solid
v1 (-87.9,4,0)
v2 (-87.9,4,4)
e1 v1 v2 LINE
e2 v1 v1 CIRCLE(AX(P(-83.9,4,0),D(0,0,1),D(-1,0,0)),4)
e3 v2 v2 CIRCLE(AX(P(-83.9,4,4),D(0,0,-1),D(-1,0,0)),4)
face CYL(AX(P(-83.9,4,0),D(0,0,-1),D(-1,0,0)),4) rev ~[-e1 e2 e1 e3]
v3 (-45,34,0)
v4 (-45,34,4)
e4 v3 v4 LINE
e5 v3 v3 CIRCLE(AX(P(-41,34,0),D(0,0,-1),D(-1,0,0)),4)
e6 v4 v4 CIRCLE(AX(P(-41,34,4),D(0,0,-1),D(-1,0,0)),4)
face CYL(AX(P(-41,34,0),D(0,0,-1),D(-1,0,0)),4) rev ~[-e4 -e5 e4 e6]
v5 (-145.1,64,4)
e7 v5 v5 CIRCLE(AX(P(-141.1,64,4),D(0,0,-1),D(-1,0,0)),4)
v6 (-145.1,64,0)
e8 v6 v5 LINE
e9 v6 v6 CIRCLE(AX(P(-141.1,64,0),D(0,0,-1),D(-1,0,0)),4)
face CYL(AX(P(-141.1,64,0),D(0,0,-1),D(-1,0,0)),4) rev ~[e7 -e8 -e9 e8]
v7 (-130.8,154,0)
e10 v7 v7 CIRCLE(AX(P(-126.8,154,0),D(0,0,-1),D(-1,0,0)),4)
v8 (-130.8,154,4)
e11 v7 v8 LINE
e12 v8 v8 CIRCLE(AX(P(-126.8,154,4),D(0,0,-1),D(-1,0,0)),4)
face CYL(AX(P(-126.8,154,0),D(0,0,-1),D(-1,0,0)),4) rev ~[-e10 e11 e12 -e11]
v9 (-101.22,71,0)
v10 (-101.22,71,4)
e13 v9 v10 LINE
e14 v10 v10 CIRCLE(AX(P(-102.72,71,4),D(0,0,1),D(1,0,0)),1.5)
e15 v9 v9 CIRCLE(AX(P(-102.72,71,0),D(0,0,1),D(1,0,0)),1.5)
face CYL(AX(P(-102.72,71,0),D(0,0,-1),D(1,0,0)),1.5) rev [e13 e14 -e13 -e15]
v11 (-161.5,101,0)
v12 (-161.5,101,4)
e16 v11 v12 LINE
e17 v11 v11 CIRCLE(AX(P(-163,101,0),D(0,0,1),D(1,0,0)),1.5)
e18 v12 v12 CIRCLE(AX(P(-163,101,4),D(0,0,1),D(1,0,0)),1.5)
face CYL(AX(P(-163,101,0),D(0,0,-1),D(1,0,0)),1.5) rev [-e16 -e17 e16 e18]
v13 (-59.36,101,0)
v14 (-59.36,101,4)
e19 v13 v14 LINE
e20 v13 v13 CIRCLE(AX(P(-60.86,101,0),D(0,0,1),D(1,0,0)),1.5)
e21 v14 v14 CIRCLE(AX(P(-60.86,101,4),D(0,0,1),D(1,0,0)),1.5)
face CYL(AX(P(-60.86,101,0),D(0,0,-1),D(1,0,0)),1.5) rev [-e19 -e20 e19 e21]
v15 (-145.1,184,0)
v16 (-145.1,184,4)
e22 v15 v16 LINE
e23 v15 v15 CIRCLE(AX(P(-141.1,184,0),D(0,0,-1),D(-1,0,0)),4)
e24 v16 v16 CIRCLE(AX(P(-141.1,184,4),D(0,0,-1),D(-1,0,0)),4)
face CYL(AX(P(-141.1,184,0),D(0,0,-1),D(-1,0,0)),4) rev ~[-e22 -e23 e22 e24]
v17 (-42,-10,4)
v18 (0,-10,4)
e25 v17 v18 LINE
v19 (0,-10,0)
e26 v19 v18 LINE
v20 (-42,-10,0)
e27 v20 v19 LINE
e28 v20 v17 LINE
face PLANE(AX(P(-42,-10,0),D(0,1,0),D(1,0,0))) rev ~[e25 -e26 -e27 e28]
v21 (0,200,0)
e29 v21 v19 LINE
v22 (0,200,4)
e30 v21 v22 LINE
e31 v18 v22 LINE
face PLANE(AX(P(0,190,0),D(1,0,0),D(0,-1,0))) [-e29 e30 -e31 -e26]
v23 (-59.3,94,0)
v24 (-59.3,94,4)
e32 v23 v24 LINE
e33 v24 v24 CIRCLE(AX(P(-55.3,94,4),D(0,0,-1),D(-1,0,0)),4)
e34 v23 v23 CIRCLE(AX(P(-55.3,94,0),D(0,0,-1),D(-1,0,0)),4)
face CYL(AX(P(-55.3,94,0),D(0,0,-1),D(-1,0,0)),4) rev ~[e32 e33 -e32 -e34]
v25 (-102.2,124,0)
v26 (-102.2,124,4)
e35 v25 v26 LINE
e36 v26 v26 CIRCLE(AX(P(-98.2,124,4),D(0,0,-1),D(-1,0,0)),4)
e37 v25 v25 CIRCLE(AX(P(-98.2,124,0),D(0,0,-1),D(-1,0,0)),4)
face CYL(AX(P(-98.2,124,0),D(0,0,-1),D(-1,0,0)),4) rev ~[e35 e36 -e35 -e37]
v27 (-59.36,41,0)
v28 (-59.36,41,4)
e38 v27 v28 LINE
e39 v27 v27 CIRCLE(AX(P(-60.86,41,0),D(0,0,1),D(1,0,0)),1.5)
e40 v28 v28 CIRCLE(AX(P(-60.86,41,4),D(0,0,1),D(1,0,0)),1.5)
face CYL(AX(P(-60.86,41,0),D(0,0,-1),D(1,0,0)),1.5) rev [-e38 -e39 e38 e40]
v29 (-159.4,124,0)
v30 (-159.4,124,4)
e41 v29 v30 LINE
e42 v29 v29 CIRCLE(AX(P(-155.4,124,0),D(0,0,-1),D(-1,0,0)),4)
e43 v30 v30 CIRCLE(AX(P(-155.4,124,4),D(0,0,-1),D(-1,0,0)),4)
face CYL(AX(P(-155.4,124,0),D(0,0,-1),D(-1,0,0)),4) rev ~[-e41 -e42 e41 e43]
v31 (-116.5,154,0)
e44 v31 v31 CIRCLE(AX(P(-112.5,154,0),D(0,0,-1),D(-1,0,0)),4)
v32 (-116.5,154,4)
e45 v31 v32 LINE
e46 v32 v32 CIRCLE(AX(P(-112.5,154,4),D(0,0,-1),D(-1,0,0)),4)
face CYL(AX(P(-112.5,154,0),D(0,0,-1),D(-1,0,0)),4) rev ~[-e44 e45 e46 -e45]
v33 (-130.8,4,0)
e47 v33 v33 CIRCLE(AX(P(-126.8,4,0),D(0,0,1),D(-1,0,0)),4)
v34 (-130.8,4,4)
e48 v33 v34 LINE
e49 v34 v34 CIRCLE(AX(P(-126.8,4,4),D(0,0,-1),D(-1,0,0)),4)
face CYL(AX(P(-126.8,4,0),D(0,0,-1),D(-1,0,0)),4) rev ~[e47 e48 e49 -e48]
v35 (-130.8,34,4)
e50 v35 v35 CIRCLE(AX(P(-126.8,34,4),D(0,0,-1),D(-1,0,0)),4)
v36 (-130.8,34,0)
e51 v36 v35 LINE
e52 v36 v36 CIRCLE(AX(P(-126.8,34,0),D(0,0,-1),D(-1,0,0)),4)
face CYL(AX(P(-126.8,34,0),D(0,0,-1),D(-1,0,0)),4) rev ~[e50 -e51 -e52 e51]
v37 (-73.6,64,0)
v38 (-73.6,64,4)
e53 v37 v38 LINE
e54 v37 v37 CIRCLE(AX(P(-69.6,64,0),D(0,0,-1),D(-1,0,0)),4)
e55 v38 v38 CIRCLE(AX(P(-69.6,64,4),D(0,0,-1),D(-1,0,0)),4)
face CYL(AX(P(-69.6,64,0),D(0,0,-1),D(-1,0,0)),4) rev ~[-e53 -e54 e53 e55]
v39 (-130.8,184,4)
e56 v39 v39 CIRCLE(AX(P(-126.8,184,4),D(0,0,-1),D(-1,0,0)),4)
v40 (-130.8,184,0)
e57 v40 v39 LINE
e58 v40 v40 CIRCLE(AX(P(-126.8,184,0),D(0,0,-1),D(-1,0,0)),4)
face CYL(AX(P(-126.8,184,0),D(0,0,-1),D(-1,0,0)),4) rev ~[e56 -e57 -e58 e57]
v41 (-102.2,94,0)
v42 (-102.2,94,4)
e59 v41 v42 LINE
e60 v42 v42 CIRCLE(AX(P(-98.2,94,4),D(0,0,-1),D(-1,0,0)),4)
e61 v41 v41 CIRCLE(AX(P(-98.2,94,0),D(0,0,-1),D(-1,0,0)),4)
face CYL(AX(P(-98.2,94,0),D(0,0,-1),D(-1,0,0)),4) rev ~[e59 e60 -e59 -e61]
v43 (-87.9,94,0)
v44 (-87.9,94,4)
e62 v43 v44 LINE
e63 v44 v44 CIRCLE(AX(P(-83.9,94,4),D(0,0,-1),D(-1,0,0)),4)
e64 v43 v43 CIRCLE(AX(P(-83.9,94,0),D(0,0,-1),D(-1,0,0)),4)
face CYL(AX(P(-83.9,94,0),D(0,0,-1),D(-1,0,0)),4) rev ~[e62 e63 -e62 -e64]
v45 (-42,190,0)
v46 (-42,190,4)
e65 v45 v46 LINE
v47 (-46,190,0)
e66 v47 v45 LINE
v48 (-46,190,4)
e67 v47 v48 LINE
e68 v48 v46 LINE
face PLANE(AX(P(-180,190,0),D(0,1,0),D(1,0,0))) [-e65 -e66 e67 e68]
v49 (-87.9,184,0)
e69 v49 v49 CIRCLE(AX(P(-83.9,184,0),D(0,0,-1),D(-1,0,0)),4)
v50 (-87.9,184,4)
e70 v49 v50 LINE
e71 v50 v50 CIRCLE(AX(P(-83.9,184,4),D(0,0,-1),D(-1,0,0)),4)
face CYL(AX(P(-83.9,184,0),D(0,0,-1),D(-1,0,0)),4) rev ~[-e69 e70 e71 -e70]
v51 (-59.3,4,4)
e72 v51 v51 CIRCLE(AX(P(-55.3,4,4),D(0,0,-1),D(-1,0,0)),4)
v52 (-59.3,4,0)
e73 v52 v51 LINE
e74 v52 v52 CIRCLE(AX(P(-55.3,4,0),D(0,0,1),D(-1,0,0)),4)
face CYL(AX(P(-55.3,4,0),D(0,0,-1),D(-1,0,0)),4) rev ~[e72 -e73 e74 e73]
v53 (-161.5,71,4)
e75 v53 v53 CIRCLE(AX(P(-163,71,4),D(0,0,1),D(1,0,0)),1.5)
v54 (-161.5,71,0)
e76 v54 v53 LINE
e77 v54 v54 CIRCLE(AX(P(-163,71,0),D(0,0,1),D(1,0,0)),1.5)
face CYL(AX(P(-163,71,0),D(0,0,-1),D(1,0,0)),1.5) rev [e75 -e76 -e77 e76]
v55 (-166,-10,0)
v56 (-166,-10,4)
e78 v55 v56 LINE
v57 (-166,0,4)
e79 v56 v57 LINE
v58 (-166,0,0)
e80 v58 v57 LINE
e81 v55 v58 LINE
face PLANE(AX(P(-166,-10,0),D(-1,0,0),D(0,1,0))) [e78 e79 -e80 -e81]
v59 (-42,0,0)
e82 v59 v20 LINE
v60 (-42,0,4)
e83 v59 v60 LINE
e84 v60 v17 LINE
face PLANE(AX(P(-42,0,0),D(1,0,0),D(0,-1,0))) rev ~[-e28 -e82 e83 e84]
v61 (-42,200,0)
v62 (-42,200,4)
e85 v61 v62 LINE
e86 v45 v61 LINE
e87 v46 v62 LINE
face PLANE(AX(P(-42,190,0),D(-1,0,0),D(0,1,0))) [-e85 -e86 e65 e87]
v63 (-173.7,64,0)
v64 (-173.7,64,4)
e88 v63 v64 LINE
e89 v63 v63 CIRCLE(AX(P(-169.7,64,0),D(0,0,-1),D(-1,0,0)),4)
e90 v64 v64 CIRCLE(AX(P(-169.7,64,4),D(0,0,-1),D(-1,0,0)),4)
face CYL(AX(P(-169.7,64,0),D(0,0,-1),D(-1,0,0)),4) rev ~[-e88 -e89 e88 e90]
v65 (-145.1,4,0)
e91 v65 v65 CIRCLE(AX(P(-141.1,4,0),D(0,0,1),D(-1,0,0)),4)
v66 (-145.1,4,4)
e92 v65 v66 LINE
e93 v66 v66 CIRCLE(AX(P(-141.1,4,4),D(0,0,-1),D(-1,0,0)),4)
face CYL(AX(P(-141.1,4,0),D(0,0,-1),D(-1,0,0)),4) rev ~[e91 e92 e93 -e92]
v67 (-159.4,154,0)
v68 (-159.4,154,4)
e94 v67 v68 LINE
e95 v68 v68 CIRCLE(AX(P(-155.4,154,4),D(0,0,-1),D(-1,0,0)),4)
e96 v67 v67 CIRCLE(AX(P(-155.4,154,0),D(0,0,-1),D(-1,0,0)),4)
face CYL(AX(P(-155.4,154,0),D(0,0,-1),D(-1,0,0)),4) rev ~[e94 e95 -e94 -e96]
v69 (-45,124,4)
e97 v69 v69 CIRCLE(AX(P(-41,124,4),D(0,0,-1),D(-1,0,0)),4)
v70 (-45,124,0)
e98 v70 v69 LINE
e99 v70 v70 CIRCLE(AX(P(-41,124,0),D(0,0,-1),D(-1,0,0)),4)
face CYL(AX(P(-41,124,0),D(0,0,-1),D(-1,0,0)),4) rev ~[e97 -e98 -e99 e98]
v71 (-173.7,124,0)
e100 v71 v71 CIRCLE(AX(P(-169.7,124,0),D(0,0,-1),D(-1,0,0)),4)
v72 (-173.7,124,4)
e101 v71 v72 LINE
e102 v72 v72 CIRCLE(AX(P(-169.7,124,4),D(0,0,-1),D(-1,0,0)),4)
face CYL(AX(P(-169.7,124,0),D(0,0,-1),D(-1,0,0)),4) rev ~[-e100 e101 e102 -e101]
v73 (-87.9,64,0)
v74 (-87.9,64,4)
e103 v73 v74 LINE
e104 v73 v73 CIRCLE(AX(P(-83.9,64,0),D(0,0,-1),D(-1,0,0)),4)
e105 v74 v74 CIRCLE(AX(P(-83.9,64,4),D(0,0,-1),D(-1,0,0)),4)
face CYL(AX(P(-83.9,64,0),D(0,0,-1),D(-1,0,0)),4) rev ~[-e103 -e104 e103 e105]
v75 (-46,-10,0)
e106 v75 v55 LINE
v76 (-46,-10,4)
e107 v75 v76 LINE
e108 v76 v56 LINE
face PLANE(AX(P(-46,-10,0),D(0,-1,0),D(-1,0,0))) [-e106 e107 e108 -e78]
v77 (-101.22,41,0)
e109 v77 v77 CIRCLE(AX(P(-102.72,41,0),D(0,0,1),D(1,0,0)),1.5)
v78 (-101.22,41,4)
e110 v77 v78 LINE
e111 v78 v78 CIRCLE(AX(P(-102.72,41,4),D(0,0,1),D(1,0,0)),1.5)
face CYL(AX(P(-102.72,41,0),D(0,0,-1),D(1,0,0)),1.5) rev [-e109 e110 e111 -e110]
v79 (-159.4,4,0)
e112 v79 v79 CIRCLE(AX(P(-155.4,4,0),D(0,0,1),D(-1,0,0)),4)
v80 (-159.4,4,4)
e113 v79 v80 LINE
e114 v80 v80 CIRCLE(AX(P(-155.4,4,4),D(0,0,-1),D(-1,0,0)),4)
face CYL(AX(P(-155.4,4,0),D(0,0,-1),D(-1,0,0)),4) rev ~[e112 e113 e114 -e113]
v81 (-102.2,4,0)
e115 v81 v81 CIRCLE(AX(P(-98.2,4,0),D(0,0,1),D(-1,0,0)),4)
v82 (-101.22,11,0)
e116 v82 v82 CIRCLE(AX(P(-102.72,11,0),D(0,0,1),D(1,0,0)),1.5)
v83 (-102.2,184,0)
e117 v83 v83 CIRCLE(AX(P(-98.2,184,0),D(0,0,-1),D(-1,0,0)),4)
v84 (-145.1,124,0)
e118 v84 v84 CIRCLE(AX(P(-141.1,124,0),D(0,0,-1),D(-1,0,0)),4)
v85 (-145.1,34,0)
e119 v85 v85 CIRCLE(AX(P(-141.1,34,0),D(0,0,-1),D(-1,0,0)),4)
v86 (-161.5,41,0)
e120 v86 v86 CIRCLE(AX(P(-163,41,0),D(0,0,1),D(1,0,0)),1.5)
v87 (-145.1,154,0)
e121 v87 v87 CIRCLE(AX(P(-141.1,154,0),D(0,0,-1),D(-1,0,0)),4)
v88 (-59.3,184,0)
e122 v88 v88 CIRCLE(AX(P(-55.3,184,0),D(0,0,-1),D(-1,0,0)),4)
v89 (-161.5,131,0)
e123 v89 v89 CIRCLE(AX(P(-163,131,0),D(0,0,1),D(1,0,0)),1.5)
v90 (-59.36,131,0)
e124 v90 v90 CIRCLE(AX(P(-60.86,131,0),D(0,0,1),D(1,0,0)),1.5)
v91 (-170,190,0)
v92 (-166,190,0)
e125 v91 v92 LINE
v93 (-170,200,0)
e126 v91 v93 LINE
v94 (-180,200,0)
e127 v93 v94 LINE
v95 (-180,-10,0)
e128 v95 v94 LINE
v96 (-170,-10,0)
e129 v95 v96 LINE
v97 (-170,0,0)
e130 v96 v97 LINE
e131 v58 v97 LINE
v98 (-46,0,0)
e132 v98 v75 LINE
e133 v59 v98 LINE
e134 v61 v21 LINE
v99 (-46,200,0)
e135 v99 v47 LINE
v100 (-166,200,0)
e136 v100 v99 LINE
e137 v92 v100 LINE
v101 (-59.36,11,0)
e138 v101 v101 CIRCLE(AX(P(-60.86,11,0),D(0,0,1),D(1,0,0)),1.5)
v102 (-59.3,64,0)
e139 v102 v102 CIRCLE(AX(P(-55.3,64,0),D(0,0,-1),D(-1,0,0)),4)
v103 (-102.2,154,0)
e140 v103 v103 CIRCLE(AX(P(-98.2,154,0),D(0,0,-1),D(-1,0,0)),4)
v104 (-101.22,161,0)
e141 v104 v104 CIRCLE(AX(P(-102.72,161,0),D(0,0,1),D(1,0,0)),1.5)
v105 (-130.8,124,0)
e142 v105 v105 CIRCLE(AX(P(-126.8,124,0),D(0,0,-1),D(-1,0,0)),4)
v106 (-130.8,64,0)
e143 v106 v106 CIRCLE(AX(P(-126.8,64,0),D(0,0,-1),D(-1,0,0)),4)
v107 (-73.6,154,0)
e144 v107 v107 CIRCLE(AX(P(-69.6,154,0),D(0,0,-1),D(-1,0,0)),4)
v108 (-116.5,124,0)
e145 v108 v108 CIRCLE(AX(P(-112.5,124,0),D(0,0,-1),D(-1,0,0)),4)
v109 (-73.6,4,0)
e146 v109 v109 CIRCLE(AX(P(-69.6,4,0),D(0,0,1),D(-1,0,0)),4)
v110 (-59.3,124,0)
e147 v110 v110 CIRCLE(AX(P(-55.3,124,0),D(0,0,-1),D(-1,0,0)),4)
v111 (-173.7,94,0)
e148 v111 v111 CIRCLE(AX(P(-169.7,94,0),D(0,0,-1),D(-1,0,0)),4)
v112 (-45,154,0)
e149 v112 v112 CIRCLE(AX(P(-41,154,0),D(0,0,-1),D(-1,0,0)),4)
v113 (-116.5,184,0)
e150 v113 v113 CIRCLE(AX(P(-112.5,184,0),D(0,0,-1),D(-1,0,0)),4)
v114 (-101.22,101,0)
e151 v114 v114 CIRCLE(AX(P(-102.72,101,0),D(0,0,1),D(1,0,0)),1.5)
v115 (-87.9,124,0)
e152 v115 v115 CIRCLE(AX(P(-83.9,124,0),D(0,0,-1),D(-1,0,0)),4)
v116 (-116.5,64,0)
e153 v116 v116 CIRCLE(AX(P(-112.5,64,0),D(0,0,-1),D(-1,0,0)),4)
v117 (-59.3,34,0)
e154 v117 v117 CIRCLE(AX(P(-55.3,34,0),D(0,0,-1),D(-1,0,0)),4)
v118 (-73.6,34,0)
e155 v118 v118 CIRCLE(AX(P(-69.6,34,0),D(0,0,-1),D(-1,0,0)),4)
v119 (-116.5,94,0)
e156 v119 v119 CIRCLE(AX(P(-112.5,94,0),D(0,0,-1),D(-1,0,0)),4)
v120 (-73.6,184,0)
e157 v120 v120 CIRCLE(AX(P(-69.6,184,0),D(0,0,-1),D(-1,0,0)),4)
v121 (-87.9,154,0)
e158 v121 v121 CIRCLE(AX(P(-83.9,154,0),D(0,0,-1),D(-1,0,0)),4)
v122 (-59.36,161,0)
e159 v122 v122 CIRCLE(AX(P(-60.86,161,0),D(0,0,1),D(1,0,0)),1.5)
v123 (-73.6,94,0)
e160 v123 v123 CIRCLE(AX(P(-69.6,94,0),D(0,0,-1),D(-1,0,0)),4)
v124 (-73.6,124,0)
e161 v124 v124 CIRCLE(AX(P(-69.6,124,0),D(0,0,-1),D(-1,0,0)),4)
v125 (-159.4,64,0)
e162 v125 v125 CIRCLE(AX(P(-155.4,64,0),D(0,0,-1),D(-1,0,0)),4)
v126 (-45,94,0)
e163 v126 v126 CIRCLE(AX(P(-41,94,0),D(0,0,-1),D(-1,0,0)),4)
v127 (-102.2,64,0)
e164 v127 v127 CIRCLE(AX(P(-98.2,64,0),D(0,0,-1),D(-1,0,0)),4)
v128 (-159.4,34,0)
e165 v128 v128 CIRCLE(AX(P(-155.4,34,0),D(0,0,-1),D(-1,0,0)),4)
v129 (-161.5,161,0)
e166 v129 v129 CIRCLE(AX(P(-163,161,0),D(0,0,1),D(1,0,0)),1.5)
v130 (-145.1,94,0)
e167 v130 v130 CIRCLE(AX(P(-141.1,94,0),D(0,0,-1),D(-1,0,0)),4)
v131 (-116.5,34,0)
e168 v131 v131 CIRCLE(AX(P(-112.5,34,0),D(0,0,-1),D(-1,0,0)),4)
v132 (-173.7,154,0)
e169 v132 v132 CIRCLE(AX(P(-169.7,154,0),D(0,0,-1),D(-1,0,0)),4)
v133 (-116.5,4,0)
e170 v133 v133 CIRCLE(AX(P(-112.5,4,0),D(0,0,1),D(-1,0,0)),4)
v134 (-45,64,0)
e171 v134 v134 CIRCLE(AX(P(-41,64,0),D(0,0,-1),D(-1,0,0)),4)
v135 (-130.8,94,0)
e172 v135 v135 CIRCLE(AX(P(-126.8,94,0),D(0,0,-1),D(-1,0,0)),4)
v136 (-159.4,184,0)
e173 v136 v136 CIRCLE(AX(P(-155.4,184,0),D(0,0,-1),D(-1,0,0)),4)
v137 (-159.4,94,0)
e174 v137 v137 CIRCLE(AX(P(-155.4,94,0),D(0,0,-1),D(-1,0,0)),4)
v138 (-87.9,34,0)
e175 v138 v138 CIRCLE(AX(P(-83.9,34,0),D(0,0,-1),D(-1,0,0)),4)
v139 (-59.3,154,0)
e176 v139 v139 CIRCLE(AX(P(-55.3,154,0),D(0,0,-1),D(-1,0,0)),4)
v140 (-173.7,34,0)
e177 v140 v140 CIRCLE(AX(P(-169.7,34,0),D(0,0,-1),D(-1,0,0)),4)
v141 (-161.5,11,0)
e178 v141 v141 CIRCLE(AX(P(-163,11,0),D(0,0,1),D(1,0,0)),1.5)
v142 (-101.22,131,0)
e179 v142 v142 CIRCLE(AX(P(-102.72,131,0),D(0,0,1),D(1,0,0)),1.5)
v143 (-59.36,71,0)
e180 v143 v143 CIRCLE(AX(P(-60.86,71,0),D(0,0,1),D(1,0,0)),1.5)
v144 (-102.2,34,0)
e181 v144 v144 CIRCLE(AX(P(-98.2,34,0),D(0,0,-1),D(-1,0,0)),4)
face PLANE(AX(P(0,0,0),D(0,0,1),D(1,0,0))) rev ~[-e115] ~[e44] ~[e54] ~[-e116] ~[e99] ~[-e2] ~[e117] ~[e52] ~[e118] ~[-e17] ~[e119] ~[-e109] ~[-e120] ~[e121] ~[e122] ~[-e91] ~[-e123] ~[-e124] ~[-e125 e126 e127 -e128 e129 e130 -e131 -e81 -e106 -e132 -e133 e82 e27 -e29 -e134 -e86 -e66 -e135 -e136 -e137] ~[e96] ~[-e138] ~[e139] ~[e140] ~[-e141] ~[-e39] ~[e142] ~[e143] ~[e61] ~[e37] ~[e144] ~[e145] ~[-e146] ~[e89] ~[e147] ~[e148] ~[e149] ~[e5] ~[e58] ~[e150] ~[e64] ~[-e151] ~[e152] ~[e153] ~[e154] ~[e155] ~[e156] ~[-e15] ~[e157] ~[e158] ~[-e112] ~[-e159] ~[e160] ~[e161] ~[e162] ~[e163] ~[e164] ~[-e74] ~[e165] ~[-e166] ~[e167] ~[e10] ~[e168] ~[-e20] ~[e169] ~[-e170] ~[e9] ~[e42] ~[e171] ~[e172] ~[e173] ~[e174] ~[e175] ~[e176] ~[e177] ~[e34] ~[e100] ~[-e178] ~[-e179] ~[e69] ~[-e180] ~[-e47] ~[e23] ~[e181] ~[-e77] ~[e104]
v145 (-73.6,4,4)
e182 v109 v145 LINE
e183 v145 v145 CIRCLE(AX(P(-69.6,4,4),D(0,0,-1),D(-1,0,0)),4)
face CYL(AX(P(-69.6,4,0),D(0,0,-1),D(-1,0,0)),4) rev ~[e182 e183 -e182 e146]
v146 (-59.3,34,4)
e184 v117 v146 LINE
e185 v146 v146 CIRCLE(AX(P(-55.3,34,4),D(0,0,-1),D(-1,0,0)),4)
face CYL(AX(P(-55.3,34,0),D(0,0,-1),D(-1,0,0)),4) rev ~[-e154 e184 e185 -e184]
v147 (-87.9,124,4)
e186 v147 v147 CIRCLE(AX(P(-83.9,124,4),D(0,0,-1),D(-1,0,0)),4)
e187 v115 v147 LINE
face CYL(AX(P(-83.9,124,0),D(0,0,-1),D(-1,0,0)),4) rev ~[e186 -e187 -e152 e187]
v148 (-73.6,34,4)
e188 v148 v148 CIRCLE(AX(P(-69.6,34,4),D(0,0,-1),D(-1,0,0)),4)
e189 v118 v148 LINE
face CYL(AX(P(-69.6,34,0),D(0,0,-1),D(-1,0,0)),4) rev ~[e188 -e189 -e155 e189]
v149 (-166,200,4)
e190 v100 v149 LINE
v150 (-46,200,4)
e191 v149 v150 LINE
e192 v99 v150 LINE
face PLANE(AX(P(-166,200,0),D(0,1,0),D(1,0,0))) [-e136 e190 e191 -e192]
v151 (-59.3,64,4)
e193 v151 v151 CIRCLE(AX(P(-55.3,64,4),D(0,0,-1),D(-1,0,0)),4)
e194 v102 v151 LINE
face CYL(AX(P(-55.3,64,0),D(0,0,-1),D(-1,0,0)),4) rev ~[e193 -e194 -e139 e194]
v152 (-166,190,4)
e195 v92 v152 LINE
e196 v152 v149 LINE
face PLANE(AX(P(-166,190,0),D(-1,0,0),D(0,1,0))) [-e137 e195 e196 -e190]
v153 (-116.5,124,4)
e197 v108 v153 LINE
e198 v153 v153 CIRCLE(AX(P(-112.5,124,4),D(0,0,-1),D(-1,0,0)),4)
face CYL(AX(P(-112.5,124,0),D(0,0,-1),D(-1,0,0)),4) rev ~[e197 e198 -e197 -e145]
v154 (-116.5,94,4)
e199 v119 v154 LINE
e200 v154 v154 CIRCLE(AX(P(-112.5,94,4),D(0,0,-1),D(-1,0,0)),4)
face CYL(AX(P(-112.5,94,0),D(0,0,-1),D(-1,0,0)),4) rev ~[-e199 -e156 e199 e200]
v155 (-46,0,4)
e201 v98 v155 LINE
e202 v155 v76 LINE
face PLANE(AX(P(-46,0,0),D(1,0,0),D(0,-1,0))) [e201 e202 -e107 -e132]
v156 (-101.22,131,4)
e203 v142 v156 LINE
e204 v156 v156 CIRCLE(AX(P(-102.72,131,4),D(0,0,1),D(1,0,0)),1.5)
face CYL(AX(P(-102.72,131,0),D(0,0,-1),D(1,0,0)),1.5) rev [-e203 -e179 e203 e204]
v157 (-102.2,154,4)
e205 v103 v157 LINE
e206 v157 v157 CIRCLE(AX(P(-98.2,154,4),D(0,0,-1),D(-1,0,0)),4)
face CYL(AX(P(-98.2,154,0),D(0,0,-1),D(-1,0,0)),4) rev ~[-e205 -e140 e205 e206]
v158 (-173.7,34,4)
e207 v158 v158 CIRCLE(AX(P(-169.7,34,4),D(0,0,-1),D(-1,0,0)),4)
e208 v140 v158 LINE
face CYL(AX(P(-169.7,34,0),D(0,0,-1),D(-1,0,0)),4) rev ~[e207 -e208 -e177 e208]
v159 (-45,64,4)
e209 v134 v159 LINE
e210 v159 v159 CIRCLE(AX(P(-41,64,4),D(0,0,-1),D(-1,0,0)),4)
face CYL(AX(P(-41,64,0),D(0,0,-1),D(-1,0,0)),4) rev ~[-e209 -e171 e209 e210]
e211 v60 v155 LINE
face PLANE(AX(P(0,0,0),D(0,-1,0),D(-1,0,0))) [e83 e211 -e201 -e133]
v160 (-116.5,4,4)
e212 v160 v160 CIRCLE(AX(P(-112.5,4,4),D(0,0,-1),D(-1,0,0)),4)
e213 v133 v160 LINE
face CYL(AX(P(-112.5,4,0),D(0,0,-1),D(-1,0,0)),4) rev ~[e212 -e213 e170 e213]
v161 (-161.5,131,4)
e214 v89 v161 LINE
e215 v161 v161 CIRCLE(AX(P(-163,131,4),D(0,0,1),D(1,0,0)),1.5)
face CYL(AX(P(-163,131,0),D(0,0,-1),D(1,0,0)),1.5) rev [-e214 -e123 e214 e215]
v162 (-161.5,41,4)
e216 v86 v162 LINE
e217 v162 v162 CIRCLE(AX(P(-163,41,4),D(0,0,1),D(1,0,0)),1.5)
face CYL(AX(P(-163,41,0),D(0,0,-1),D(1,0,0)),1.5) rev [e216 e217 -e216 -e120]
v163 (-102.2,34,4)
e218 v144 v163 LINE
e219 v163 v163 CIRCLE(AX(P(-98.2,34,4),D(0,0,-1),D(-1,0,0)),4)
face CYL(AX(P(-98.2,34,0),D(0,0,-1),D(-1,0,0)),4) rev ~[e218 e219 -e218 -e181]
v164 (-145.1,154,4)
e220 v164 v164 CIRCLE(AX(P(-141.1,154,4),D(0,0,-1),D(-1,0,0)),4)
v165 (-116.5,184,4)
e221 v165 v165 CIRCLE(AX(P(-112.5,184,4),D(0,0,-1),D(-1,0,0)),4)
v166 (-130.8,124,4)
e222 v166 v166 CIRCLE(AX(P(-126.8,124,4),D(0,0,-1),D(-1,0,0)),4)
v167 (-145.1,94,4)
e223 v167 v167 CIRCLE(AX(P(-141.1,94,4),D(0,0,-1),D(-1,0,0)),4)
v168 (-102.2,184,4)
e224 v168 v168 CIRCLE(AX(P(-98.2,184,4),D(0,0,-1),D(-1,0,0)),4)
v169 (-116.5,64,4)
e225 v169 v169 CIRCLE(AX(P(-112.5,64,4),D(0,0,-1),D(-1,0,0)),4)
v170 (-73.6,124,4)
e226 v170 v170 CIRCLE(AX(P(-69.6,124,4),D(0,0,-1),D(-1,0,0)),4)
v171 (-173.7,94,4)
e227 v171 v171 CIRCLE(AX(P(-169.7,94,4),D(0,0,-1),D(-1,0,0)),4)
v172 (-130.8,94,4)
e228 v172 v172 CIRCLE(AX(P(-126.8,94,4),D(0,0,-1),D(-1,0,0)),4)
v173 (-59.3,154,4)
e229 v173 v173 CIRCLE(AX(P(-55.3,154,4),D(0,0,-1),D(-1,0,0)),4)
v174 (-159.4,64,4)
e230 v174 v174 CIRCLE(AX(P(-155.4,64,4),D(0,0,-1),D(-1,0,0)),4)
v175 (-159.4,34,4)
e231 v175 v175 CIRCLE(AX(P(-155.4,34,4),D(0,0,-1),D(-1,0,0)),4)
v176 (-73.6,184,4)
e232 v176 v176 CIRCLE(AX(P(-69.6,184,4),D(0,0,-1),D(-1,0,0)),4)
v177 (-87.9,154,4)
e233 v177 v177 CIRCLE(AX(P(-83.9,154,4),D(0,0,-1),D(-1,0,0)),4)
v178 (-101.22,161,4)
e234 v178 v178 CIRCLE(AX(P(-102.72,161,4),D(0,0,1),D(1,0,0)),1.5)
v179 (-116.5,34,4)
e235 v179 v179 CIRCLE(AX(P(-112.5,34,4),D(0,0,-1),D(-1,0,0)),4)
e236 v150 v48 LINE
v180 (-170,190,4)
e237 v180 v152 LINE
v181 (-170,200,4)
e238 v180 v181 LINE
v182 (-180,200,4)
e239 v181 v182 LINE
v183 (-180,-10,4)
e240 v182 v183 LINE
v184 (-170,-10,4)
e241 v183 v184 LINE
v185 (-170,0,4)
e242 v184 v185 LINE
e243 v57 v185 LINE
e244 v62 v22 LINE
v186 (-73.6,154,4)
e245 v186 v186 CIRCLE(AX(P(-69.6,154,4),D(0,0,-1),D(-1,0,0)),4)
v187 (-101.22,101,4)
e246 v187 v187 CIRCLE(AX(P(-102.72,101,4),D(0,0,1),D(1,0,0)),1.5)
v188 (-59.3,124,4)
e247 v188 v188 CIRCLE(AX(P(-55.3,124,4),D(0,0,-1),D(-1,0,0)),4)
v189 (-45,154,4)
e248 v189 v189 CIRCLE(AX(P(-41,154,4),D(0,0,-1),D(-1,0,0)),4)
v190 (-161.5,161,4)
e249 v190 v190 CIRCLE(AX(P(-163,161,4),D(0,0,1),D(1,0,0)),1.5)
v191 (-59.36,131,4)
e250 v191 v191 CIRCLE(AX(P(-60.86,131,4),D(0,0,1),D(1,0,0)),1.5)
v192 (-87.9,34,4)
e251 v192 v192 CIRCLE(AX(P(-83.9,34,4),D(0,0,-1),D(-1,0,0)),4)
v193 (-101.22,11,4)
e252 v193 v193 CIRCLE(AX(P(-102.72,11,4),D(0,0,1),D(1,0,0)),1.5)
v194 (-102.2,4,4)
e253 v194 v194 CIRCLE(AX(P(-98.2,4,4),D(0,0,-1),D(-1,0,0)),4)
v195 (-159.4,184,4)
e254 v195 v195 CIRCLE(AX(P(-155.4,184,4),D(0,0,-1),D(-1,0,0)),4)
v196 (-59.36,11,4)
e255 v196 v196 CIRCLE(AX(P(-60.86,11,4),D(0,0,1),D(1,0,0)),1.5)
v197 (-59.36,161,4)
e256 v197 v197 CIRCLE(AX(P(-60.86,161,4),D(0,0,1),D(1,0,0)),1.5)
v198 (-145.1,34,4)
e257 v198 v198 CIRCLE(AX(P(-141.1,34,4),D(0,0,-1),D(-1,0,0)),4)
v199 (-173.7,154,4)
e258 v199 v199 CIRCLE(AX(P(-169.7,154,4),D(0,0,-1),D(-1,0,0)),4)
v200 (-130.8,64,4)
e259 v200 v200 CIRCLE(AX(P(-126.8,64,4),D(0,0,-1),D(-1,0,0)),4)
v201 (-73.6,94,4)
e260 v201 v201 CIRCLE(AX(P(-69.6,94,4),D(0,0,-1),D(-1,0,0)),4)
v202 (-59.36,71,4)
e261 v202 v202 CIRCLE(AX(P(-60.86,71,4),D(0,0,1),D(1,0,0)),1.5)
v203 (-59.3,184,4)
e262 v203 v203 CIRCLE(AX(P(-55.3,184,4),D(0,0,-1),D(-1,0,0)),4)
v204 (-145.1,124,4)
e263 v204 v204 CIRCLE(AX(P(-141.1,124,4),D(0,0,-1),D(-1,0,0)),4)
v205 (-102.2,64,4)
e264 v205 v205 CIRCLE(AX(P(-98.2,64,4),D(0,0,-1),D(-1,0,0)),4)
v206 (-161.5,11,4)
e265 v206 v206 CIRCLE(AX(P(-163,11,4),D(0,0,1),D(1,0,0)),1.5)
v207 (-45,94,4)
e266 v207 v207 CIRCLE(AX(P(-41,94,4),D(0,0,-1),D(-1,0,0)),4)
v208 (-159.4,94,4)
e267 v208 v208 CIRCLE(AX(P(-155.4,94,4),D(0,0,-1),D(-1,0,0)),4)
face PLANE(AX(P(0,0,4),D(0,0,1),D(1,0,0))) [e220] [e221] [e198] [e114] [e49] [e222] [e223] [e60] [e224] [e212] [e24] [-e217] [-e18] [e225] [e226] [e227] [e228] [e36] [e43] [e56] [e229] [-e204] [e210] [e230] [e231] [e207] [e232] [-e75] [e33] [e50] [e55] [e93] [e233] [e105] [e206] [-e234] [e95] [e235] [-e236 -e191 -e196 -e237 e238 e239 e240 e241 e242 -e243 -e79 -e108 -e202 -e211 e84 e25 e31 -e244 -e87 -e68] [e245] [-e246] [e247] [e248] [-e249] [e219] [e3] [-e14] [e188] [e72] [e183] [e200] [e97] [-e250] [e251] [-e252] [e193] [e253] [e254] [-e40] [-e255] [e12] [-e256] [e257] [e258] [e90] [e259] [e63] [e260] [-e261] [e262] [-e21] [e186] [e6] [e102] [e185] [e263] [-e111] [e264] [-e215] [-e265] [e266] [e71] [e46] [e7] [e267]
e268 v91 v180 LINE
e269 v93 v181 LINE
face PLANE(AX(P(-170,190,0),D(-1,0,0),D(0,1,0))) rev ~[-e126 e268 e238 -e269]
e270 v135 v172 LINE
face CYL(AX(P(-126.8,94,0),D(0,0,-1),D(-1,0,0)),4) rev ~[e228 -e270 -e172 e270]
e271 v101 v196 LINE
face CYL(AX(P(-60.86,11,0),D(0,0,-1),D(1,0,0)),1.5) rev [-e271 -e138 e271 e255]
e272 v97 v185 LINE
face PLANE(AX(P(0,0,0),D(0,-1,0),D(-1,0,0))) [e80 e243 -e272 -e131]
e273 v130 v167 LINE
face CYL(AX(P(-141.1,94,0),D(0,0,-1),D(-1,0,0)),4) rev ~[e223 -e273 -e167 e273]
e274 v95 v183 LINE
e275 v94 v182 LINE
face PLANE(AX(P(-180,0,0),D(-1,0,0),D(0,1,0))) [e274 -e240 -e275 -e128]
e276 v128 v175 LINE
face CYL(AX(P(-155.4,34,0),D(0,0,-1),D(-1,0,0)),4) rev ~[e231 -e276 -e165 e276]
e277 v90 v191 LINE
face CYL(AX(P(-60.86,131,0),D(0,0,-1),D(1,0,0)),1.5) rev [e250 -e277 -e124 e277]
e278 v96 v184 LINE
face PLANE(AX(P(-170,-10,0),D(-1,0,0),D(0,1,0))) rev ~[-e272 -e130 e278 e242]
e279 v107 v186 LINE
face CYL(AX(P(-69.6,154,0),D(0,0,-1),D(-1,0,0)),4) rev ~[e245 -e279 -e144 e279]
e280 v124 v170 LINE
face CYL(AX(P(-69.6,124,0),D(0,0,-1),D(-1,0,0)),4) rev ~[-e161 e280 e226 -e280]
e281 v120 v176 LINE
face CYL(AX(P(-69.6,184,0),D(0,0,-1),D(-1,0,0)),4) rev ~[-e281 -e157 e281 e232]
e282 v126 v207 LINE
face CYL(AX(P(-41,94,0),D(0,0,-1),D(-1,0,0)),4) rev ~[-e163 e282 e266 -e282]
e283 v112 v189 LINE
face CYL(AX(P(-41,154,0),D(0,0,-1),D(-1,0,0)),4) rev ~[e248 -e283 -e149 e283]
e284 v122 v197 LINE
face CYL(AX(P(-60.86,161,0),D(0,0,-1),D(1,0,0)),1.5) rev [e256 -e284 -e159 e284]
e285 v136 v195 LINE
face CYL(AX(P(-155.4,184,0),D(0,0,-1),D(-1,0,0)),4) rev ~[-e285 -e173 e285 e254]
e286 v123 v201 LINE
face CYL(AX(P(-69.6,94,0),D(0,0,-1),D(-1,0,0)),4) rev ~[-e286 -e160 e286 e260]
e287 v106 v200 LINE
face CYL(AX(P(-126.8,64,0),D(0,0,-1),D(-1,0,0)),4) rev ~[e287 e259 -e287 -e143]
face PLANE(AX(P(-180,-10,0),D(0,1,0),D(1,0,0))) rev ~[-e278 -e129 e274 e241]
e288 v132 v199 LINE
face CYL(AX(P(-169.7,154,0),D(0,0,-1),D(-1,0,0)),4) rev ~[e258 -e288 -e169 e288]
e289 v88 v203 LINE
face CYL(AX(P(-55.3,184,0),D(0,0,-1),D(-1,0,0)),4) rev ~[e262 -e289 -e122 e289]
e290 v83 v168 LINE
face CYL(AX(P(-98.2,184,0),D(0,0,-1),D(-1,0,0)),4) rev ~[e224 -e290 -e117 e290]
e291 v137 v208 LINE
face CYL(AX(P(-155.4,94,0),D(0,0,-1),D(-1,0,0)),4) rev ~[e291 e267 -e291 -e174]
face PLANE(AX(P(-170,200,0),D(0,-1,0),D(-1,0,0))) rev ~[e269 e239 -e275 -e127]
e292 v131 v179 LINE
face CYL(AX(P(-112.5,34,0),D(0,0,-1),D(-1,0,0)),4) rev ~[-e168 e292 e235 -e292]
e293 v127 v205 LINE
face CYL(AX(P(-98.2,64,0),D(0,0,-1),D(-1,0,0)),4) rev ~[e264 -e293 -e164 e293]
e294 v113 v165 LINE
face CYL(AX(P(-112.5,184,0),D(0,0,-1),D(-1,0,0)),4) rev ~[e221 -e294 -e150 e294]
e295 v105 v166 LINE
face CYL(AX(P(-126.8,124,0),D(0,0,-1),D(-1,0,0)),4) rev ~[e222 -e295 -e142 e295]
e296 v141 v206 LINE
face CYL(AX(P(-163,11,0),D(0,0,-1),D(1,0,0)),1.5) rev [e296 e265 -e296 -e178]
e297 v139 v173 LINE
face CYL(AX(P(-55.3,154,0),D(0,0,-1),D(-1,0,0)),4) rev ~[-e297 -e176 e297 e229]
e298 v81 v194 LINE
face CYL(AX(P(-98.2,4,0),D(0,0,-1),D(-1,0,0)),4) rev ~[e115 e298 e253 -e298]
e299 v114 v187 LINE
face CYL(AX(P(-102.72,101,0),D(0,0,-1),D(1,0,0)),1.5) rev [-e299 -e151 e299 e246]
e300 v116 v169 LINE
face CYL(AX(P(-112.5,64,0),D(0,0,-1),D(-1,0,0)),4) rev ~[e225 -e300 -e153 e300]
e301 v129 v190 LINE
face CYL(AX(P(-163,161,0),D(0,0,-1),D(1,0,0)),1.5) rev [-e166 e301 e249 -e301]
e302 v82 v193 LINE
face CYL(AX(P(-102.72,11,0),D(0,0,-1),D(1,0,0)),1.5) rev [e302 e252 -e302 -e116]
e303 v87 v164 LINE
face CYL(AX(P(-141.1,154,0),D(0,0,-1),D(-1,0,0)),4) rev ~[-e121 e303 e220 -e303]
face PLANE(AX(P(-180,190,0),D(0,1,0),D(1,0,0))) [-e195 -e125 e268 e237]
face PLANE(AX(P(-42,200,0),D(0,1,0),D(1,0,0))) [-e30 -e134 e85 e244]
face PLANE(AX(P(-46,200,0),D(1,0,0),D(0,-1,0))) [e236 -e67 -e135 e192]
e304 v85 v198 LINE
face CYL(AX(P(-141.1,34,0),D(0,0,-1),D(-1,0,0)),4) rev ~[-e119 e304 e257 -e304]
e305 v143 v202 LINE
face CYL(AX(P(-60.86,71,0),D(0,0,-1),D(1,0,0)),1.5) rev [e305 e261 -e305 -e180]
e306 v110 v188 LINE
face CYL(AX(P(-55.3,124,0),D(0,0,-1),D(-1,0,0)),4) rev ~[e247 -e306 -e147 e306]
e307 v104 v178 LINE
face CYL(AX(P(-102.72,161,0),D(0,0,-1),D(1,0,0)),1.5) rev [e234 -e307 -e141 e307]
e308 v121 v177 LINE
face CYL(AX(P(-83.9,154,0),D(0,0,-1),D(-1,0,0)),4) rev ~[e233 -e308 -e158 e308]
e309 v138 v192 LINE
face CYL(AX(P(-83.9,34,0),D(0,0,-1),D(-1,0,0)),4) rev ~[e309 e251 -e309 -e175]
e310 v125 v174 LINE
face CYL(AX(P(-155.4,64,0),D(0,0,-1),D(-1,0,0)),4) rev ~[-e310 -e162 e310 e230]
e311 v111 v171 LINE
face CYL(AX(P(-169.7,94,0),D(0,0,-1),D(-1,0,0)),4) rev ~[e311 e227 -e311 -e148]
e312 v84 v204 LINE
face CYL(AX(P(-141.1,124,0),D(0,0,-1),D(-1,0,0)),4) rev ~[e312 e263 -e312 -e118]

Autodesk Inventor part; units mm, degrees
ref_plane "YZ Plane" through (0, 0, 0) normal (1, 0, 0) x (0, 1, 0)
ref_plane "XZ Plane" through (0, 0, 0) normal (0, 1, 0) x (-1, 0, 0)
ref_plane "XY Plane" through (0, 0, 0) normal (0, 0, 1) x (1, 0, 0)
sketch "Skizze1" plane through (0, 0, 0) normal (0, 0, 1) x (1, 0, 0)
  line L0 (0, 0) -> (-180, 0)
  line L1 (-180, 0) -> (-180, 190)
  line L2 (-180, 190) -> (0, 190)
  line L3 (0, 190) -> (0, 0)
  circle A0 centre (-163, 161) radius 1.5
  line L4 (-163, 161) -> (-60.86, 161) construction
  line L5 (-163, 161) -> (-163, 11) construction
  circle A1 centre (-102.72, 161) radius 1.5
  circle A2 centre (-60.86, 161) radius 1.5
  circle A3 centre (-163, 11) radius 1.5
  circle A4 centre (-163, 131) radius 1.5
  circle A5 centre (-163, 101) radius 1.5
  circle A6 centre (-163, 71) radius 1.5
  circle A7 centre (-163, 41) radius 1.5
  circle A8 centre (-102.72, 131) radius 1.5
  circle A9 centre (-102.72, 101) radius 1.5
  circle A10 centre (-102.72, 71) radius 1.5
  circle A11 centre (-102.72, 41) radius 1.5
  circle A12 centre (-102.72, 11) radius 1.5
  circle A13 centre (-60.86, 131) radius 1.5
  circle A14 centre (-60.86, 101) radius 1.5
  circle A15 centre (-60.86, 71) radius 1.5
  circle A16 centre (-60.86, 41) radius 1.5
  circle A17 centre (-60.86, 11) radius 1.5
  dimension "d0" = 180
  dimension "d1" = 190
  dimension "d14" = 60.28
  dimension "d15" = 41.86
  dimension "d16" = 30
  dimension "d17" = 30
  dimension "d18" = 30
  dimension "d19" = 30
  dimension "d20" = 30
  dimension "d21" = 3
  dimension "d22" = 17
  dimension "d23" = 29
extrude "Extrusion1" add sketch "Skizze1" along normal blind 4
sketch "Skizze2" plane through (0, 0, 0) normal (0, 0, -1) x (-1, 0, 0)
  circle A0 centre (41, 4) radius 4
  line L0 (180, 0) -> (0, 0) projected
  line L1 (0, 0) -> (0, 190) projected
  line L2 (41, 4) -> (41, 143) construction
  line L3 (41, 4) -> (133, 4) construction
  circle A1 centre (41, 34) radius 4
  circle A2 centre (41, 64) radius 4
  circle A3 centre (41, 94) radius 4
  circle A4 centre (41, 124) radius 4
  circle A5 centre (55.3, 4) radius 4
  circle A6 centre (55.3, 34) radius 4
  circle A7 centre (55.3, 64) radius 4
  circle A8 centre (55.3, 94) radius 4
  circle A9 centre (55.3, 124) radius 4
  circle A10 centre (69.6, 4) radius 4
  circle A11 centre (69.6, 34) radius 4
  circle A12 centre (69.6, 64) radius 4
  circle A13 centre (69.6, 94) radius 4
  circle A14 centre (69.6, 124) radius 4
  circle A15 centre (83.9, 4) radius 4
  circle A16 centre (83.9, 34) radius 4
  circle A17 centre (83.9, 64) radius 4
  circle A18 centre (83.9, 94) radius 4
  circle A19 centre (83.9, 124) radius 4
  circle A20 centre (98.2, 4) radius 4
  circle A21 centre (98.2, 34) radius 4
  circle A22 centre (98.2, 64) radius 4
  circle A23 centre (98.2, 94) radius 4
  circle A24 centre (98.2, 124) radius 4
  circle A25 centre (112.5, 4) radius 4
  circle A26 centre (112.5, 34) radius 4
  circle A27 centre (112.5, 64) radius 4
  circle A28 centre (112.5, 94) radius 4
  circle A29 centre (112.5, 124) radius 4
  circle A30 centre (126.8, 4) radius 4
  circle A31 centre (126.8, 34) radius 4
  circle A32 centre (126.8, 64) radius 4
  circle A33 centre (126.8, 94) radius 4
  circle A34 centre (126.8, 124) radius 4
  circle A35 centre (141.1, 4) radius 4
  circle A36 centre (141.1, 34) radius 4
  circle A37 centre (141.1, 64) radius 4
  circle A38 centre (141.1, 94) radius 4
  circle A39 centre (141.1, 124) radius 4
  circle A40 centre (155.4, 4) radius 4
  circle A41 centre (155.4, 34) radius 4
  circle A42 centre (155.4, 64) radius 4
  circle A43 centre (155.4, 94) radius 4
  circle A44 centre (155.4, 124) radius 4
  circle A45 centre (169.7, 4) radius 4
  circle A46 centre (169.7, 34) radius 4
  circle A47 centre (169.7, 64) radius 4
  circle A48 centre (169.7, 94) radius 4
  circle A49 centre (169.7, 124) radius 4
  circle A50 centre (41, 154) radius 4
  circle A51 centre (55.3, 154) radius 4
  circle A52 centre (69.6, 154) radius 4
  circle A53 centre (83.9, 154) radius 4
  circle A54 centre (98.2, 154) radius 4
  circle A55 centre (112.5, 154) radius 4
  circle A56 centre (126.8, 154) radius 4
  circle A57 centre (141.1, 154) radius 4
  circle A58 centre (155.4, 154) radius 4
  circle A59 centre (169.7, 154) radius 4
  circle A60 centre (41, 184) radius 4
  circle A61 centre (55.3, 184) radius 4
  circle A62 centre (69.6, 184) radius 4
  circle A63 centre (83.9, 184) radius 4
  circle A64 centre (98.2, 184) radius 4
  circle A65 centre (112.5, 184) radius 4
  circle A66 centre (126.8, 184) radius 4
  circle A67 centre (141.1, 184) radius 4
  circle A68 centre (155.4, 184) radius 4
  circle A69 centre (169.7, 184) radius 4
  dimension "d24" = 8
  dimension "d25" = 4
  dimension "d26" = 41
  dimension "d29" = 30
  dimension "d32" = 14.3
extrude "Extrusion2" cut sketch "Skizze2" against normal blind 4 contours A5 | A10 | A15 | A20 | A25 | A30 | A35 | A40 | A1 | A2 | A3 | A4 | A6 | A7 | A8 | A9 | A11 | A12 | A13 | A14 | A16 | A17 | A18 | A19 | A21 | A22 | A23 | A24 | A26 | A27 | A28 | A29 | A31 | A32 | A33 | A34 | A36 | A37 | A38 | A39 | A41 | A42 | A43 | A44 | A46 | A47 | A48 | A49 | A50 | A51 | A52 | A53 | A54 | A55 | A56 | A57 | A58 | A59 | A61 | A62 | A63 | A64 | A65 | A66 | A67 | A68
sketch "Skizze3" plane through (0, 0, 0) normal (0, 0, -1) x (-1, 0, 0)
  line L0 (180, 190) -> (180, 0) projected
  line L1 (180, 0) -> (180, -10)
  line L2 (180, -10) -> (170, -10)
  line L3 (170, -10) -> (170, 0)
  line L4 (180, 0) -> (0, 0) projected
  line L5 (180, 0) -> (170, 0)
  line L6 (166, 0) -> (46, 0)
  line L7 (46, 0) -> (46, -10)
  line L8 (46, -10) -> (166, -10)
  line L9 (166, -10) -> (166, 0)
  line L10 (0, 0) -> (0, 190) projected
  line L11 (0, 0) -> (42, 0)
  line L12 (42, 0) -> (42, -10)
  line L13 (42, -10) -> (0, -10)
  line L14 (0, -10) -> (0, 0)
  line L15 (0, 190) -> (42, 190)
  line L16 (42, 190) -> (42, 200)
  line L17 (42, 200) -> (0, 200)
  line L18 (0, 200) -> (0, 190)
  line L19 (0, 190) -> (180, 190) projected
  line L20 (46, 190) -> (166, 190)
  line L21 (166, 190) -> (166, 200)
  line L22 (166, 200) -> (46, 200)
  line L23 (46, 200) -> (46, 190)
  line L24 (180, 190) -> (170, 190)
  line L25 (170, 190) -> (170, 200)
  line L26 (170, 200) -> (180, 200)
  line L27 (180, 200) -> (180, 190)
  dimension "d37" = 4
  dimension "d38" = 4
  dimension "d39" = 10
  dimension "d40" = 120
  dimension "d41" = 10
extrude "Extrusion3" add sketch "Skizze3" against normal blind 4 contours L19 L25 L26 L27 | L1 L2 L3 L4 | L19 L23 L22 L21 | L9 L8 L7 L4 | L15 L18 L17 L16 | L12 L13 L14 L4
equation "\"d17\" = d16"
equation "\"d18\" = d16"
equation "\"d19\" = d16"
equation "\"d20\" = d16"
equation "\"d38\" = d37"
properties part number "Platte1" material "Pappel"
